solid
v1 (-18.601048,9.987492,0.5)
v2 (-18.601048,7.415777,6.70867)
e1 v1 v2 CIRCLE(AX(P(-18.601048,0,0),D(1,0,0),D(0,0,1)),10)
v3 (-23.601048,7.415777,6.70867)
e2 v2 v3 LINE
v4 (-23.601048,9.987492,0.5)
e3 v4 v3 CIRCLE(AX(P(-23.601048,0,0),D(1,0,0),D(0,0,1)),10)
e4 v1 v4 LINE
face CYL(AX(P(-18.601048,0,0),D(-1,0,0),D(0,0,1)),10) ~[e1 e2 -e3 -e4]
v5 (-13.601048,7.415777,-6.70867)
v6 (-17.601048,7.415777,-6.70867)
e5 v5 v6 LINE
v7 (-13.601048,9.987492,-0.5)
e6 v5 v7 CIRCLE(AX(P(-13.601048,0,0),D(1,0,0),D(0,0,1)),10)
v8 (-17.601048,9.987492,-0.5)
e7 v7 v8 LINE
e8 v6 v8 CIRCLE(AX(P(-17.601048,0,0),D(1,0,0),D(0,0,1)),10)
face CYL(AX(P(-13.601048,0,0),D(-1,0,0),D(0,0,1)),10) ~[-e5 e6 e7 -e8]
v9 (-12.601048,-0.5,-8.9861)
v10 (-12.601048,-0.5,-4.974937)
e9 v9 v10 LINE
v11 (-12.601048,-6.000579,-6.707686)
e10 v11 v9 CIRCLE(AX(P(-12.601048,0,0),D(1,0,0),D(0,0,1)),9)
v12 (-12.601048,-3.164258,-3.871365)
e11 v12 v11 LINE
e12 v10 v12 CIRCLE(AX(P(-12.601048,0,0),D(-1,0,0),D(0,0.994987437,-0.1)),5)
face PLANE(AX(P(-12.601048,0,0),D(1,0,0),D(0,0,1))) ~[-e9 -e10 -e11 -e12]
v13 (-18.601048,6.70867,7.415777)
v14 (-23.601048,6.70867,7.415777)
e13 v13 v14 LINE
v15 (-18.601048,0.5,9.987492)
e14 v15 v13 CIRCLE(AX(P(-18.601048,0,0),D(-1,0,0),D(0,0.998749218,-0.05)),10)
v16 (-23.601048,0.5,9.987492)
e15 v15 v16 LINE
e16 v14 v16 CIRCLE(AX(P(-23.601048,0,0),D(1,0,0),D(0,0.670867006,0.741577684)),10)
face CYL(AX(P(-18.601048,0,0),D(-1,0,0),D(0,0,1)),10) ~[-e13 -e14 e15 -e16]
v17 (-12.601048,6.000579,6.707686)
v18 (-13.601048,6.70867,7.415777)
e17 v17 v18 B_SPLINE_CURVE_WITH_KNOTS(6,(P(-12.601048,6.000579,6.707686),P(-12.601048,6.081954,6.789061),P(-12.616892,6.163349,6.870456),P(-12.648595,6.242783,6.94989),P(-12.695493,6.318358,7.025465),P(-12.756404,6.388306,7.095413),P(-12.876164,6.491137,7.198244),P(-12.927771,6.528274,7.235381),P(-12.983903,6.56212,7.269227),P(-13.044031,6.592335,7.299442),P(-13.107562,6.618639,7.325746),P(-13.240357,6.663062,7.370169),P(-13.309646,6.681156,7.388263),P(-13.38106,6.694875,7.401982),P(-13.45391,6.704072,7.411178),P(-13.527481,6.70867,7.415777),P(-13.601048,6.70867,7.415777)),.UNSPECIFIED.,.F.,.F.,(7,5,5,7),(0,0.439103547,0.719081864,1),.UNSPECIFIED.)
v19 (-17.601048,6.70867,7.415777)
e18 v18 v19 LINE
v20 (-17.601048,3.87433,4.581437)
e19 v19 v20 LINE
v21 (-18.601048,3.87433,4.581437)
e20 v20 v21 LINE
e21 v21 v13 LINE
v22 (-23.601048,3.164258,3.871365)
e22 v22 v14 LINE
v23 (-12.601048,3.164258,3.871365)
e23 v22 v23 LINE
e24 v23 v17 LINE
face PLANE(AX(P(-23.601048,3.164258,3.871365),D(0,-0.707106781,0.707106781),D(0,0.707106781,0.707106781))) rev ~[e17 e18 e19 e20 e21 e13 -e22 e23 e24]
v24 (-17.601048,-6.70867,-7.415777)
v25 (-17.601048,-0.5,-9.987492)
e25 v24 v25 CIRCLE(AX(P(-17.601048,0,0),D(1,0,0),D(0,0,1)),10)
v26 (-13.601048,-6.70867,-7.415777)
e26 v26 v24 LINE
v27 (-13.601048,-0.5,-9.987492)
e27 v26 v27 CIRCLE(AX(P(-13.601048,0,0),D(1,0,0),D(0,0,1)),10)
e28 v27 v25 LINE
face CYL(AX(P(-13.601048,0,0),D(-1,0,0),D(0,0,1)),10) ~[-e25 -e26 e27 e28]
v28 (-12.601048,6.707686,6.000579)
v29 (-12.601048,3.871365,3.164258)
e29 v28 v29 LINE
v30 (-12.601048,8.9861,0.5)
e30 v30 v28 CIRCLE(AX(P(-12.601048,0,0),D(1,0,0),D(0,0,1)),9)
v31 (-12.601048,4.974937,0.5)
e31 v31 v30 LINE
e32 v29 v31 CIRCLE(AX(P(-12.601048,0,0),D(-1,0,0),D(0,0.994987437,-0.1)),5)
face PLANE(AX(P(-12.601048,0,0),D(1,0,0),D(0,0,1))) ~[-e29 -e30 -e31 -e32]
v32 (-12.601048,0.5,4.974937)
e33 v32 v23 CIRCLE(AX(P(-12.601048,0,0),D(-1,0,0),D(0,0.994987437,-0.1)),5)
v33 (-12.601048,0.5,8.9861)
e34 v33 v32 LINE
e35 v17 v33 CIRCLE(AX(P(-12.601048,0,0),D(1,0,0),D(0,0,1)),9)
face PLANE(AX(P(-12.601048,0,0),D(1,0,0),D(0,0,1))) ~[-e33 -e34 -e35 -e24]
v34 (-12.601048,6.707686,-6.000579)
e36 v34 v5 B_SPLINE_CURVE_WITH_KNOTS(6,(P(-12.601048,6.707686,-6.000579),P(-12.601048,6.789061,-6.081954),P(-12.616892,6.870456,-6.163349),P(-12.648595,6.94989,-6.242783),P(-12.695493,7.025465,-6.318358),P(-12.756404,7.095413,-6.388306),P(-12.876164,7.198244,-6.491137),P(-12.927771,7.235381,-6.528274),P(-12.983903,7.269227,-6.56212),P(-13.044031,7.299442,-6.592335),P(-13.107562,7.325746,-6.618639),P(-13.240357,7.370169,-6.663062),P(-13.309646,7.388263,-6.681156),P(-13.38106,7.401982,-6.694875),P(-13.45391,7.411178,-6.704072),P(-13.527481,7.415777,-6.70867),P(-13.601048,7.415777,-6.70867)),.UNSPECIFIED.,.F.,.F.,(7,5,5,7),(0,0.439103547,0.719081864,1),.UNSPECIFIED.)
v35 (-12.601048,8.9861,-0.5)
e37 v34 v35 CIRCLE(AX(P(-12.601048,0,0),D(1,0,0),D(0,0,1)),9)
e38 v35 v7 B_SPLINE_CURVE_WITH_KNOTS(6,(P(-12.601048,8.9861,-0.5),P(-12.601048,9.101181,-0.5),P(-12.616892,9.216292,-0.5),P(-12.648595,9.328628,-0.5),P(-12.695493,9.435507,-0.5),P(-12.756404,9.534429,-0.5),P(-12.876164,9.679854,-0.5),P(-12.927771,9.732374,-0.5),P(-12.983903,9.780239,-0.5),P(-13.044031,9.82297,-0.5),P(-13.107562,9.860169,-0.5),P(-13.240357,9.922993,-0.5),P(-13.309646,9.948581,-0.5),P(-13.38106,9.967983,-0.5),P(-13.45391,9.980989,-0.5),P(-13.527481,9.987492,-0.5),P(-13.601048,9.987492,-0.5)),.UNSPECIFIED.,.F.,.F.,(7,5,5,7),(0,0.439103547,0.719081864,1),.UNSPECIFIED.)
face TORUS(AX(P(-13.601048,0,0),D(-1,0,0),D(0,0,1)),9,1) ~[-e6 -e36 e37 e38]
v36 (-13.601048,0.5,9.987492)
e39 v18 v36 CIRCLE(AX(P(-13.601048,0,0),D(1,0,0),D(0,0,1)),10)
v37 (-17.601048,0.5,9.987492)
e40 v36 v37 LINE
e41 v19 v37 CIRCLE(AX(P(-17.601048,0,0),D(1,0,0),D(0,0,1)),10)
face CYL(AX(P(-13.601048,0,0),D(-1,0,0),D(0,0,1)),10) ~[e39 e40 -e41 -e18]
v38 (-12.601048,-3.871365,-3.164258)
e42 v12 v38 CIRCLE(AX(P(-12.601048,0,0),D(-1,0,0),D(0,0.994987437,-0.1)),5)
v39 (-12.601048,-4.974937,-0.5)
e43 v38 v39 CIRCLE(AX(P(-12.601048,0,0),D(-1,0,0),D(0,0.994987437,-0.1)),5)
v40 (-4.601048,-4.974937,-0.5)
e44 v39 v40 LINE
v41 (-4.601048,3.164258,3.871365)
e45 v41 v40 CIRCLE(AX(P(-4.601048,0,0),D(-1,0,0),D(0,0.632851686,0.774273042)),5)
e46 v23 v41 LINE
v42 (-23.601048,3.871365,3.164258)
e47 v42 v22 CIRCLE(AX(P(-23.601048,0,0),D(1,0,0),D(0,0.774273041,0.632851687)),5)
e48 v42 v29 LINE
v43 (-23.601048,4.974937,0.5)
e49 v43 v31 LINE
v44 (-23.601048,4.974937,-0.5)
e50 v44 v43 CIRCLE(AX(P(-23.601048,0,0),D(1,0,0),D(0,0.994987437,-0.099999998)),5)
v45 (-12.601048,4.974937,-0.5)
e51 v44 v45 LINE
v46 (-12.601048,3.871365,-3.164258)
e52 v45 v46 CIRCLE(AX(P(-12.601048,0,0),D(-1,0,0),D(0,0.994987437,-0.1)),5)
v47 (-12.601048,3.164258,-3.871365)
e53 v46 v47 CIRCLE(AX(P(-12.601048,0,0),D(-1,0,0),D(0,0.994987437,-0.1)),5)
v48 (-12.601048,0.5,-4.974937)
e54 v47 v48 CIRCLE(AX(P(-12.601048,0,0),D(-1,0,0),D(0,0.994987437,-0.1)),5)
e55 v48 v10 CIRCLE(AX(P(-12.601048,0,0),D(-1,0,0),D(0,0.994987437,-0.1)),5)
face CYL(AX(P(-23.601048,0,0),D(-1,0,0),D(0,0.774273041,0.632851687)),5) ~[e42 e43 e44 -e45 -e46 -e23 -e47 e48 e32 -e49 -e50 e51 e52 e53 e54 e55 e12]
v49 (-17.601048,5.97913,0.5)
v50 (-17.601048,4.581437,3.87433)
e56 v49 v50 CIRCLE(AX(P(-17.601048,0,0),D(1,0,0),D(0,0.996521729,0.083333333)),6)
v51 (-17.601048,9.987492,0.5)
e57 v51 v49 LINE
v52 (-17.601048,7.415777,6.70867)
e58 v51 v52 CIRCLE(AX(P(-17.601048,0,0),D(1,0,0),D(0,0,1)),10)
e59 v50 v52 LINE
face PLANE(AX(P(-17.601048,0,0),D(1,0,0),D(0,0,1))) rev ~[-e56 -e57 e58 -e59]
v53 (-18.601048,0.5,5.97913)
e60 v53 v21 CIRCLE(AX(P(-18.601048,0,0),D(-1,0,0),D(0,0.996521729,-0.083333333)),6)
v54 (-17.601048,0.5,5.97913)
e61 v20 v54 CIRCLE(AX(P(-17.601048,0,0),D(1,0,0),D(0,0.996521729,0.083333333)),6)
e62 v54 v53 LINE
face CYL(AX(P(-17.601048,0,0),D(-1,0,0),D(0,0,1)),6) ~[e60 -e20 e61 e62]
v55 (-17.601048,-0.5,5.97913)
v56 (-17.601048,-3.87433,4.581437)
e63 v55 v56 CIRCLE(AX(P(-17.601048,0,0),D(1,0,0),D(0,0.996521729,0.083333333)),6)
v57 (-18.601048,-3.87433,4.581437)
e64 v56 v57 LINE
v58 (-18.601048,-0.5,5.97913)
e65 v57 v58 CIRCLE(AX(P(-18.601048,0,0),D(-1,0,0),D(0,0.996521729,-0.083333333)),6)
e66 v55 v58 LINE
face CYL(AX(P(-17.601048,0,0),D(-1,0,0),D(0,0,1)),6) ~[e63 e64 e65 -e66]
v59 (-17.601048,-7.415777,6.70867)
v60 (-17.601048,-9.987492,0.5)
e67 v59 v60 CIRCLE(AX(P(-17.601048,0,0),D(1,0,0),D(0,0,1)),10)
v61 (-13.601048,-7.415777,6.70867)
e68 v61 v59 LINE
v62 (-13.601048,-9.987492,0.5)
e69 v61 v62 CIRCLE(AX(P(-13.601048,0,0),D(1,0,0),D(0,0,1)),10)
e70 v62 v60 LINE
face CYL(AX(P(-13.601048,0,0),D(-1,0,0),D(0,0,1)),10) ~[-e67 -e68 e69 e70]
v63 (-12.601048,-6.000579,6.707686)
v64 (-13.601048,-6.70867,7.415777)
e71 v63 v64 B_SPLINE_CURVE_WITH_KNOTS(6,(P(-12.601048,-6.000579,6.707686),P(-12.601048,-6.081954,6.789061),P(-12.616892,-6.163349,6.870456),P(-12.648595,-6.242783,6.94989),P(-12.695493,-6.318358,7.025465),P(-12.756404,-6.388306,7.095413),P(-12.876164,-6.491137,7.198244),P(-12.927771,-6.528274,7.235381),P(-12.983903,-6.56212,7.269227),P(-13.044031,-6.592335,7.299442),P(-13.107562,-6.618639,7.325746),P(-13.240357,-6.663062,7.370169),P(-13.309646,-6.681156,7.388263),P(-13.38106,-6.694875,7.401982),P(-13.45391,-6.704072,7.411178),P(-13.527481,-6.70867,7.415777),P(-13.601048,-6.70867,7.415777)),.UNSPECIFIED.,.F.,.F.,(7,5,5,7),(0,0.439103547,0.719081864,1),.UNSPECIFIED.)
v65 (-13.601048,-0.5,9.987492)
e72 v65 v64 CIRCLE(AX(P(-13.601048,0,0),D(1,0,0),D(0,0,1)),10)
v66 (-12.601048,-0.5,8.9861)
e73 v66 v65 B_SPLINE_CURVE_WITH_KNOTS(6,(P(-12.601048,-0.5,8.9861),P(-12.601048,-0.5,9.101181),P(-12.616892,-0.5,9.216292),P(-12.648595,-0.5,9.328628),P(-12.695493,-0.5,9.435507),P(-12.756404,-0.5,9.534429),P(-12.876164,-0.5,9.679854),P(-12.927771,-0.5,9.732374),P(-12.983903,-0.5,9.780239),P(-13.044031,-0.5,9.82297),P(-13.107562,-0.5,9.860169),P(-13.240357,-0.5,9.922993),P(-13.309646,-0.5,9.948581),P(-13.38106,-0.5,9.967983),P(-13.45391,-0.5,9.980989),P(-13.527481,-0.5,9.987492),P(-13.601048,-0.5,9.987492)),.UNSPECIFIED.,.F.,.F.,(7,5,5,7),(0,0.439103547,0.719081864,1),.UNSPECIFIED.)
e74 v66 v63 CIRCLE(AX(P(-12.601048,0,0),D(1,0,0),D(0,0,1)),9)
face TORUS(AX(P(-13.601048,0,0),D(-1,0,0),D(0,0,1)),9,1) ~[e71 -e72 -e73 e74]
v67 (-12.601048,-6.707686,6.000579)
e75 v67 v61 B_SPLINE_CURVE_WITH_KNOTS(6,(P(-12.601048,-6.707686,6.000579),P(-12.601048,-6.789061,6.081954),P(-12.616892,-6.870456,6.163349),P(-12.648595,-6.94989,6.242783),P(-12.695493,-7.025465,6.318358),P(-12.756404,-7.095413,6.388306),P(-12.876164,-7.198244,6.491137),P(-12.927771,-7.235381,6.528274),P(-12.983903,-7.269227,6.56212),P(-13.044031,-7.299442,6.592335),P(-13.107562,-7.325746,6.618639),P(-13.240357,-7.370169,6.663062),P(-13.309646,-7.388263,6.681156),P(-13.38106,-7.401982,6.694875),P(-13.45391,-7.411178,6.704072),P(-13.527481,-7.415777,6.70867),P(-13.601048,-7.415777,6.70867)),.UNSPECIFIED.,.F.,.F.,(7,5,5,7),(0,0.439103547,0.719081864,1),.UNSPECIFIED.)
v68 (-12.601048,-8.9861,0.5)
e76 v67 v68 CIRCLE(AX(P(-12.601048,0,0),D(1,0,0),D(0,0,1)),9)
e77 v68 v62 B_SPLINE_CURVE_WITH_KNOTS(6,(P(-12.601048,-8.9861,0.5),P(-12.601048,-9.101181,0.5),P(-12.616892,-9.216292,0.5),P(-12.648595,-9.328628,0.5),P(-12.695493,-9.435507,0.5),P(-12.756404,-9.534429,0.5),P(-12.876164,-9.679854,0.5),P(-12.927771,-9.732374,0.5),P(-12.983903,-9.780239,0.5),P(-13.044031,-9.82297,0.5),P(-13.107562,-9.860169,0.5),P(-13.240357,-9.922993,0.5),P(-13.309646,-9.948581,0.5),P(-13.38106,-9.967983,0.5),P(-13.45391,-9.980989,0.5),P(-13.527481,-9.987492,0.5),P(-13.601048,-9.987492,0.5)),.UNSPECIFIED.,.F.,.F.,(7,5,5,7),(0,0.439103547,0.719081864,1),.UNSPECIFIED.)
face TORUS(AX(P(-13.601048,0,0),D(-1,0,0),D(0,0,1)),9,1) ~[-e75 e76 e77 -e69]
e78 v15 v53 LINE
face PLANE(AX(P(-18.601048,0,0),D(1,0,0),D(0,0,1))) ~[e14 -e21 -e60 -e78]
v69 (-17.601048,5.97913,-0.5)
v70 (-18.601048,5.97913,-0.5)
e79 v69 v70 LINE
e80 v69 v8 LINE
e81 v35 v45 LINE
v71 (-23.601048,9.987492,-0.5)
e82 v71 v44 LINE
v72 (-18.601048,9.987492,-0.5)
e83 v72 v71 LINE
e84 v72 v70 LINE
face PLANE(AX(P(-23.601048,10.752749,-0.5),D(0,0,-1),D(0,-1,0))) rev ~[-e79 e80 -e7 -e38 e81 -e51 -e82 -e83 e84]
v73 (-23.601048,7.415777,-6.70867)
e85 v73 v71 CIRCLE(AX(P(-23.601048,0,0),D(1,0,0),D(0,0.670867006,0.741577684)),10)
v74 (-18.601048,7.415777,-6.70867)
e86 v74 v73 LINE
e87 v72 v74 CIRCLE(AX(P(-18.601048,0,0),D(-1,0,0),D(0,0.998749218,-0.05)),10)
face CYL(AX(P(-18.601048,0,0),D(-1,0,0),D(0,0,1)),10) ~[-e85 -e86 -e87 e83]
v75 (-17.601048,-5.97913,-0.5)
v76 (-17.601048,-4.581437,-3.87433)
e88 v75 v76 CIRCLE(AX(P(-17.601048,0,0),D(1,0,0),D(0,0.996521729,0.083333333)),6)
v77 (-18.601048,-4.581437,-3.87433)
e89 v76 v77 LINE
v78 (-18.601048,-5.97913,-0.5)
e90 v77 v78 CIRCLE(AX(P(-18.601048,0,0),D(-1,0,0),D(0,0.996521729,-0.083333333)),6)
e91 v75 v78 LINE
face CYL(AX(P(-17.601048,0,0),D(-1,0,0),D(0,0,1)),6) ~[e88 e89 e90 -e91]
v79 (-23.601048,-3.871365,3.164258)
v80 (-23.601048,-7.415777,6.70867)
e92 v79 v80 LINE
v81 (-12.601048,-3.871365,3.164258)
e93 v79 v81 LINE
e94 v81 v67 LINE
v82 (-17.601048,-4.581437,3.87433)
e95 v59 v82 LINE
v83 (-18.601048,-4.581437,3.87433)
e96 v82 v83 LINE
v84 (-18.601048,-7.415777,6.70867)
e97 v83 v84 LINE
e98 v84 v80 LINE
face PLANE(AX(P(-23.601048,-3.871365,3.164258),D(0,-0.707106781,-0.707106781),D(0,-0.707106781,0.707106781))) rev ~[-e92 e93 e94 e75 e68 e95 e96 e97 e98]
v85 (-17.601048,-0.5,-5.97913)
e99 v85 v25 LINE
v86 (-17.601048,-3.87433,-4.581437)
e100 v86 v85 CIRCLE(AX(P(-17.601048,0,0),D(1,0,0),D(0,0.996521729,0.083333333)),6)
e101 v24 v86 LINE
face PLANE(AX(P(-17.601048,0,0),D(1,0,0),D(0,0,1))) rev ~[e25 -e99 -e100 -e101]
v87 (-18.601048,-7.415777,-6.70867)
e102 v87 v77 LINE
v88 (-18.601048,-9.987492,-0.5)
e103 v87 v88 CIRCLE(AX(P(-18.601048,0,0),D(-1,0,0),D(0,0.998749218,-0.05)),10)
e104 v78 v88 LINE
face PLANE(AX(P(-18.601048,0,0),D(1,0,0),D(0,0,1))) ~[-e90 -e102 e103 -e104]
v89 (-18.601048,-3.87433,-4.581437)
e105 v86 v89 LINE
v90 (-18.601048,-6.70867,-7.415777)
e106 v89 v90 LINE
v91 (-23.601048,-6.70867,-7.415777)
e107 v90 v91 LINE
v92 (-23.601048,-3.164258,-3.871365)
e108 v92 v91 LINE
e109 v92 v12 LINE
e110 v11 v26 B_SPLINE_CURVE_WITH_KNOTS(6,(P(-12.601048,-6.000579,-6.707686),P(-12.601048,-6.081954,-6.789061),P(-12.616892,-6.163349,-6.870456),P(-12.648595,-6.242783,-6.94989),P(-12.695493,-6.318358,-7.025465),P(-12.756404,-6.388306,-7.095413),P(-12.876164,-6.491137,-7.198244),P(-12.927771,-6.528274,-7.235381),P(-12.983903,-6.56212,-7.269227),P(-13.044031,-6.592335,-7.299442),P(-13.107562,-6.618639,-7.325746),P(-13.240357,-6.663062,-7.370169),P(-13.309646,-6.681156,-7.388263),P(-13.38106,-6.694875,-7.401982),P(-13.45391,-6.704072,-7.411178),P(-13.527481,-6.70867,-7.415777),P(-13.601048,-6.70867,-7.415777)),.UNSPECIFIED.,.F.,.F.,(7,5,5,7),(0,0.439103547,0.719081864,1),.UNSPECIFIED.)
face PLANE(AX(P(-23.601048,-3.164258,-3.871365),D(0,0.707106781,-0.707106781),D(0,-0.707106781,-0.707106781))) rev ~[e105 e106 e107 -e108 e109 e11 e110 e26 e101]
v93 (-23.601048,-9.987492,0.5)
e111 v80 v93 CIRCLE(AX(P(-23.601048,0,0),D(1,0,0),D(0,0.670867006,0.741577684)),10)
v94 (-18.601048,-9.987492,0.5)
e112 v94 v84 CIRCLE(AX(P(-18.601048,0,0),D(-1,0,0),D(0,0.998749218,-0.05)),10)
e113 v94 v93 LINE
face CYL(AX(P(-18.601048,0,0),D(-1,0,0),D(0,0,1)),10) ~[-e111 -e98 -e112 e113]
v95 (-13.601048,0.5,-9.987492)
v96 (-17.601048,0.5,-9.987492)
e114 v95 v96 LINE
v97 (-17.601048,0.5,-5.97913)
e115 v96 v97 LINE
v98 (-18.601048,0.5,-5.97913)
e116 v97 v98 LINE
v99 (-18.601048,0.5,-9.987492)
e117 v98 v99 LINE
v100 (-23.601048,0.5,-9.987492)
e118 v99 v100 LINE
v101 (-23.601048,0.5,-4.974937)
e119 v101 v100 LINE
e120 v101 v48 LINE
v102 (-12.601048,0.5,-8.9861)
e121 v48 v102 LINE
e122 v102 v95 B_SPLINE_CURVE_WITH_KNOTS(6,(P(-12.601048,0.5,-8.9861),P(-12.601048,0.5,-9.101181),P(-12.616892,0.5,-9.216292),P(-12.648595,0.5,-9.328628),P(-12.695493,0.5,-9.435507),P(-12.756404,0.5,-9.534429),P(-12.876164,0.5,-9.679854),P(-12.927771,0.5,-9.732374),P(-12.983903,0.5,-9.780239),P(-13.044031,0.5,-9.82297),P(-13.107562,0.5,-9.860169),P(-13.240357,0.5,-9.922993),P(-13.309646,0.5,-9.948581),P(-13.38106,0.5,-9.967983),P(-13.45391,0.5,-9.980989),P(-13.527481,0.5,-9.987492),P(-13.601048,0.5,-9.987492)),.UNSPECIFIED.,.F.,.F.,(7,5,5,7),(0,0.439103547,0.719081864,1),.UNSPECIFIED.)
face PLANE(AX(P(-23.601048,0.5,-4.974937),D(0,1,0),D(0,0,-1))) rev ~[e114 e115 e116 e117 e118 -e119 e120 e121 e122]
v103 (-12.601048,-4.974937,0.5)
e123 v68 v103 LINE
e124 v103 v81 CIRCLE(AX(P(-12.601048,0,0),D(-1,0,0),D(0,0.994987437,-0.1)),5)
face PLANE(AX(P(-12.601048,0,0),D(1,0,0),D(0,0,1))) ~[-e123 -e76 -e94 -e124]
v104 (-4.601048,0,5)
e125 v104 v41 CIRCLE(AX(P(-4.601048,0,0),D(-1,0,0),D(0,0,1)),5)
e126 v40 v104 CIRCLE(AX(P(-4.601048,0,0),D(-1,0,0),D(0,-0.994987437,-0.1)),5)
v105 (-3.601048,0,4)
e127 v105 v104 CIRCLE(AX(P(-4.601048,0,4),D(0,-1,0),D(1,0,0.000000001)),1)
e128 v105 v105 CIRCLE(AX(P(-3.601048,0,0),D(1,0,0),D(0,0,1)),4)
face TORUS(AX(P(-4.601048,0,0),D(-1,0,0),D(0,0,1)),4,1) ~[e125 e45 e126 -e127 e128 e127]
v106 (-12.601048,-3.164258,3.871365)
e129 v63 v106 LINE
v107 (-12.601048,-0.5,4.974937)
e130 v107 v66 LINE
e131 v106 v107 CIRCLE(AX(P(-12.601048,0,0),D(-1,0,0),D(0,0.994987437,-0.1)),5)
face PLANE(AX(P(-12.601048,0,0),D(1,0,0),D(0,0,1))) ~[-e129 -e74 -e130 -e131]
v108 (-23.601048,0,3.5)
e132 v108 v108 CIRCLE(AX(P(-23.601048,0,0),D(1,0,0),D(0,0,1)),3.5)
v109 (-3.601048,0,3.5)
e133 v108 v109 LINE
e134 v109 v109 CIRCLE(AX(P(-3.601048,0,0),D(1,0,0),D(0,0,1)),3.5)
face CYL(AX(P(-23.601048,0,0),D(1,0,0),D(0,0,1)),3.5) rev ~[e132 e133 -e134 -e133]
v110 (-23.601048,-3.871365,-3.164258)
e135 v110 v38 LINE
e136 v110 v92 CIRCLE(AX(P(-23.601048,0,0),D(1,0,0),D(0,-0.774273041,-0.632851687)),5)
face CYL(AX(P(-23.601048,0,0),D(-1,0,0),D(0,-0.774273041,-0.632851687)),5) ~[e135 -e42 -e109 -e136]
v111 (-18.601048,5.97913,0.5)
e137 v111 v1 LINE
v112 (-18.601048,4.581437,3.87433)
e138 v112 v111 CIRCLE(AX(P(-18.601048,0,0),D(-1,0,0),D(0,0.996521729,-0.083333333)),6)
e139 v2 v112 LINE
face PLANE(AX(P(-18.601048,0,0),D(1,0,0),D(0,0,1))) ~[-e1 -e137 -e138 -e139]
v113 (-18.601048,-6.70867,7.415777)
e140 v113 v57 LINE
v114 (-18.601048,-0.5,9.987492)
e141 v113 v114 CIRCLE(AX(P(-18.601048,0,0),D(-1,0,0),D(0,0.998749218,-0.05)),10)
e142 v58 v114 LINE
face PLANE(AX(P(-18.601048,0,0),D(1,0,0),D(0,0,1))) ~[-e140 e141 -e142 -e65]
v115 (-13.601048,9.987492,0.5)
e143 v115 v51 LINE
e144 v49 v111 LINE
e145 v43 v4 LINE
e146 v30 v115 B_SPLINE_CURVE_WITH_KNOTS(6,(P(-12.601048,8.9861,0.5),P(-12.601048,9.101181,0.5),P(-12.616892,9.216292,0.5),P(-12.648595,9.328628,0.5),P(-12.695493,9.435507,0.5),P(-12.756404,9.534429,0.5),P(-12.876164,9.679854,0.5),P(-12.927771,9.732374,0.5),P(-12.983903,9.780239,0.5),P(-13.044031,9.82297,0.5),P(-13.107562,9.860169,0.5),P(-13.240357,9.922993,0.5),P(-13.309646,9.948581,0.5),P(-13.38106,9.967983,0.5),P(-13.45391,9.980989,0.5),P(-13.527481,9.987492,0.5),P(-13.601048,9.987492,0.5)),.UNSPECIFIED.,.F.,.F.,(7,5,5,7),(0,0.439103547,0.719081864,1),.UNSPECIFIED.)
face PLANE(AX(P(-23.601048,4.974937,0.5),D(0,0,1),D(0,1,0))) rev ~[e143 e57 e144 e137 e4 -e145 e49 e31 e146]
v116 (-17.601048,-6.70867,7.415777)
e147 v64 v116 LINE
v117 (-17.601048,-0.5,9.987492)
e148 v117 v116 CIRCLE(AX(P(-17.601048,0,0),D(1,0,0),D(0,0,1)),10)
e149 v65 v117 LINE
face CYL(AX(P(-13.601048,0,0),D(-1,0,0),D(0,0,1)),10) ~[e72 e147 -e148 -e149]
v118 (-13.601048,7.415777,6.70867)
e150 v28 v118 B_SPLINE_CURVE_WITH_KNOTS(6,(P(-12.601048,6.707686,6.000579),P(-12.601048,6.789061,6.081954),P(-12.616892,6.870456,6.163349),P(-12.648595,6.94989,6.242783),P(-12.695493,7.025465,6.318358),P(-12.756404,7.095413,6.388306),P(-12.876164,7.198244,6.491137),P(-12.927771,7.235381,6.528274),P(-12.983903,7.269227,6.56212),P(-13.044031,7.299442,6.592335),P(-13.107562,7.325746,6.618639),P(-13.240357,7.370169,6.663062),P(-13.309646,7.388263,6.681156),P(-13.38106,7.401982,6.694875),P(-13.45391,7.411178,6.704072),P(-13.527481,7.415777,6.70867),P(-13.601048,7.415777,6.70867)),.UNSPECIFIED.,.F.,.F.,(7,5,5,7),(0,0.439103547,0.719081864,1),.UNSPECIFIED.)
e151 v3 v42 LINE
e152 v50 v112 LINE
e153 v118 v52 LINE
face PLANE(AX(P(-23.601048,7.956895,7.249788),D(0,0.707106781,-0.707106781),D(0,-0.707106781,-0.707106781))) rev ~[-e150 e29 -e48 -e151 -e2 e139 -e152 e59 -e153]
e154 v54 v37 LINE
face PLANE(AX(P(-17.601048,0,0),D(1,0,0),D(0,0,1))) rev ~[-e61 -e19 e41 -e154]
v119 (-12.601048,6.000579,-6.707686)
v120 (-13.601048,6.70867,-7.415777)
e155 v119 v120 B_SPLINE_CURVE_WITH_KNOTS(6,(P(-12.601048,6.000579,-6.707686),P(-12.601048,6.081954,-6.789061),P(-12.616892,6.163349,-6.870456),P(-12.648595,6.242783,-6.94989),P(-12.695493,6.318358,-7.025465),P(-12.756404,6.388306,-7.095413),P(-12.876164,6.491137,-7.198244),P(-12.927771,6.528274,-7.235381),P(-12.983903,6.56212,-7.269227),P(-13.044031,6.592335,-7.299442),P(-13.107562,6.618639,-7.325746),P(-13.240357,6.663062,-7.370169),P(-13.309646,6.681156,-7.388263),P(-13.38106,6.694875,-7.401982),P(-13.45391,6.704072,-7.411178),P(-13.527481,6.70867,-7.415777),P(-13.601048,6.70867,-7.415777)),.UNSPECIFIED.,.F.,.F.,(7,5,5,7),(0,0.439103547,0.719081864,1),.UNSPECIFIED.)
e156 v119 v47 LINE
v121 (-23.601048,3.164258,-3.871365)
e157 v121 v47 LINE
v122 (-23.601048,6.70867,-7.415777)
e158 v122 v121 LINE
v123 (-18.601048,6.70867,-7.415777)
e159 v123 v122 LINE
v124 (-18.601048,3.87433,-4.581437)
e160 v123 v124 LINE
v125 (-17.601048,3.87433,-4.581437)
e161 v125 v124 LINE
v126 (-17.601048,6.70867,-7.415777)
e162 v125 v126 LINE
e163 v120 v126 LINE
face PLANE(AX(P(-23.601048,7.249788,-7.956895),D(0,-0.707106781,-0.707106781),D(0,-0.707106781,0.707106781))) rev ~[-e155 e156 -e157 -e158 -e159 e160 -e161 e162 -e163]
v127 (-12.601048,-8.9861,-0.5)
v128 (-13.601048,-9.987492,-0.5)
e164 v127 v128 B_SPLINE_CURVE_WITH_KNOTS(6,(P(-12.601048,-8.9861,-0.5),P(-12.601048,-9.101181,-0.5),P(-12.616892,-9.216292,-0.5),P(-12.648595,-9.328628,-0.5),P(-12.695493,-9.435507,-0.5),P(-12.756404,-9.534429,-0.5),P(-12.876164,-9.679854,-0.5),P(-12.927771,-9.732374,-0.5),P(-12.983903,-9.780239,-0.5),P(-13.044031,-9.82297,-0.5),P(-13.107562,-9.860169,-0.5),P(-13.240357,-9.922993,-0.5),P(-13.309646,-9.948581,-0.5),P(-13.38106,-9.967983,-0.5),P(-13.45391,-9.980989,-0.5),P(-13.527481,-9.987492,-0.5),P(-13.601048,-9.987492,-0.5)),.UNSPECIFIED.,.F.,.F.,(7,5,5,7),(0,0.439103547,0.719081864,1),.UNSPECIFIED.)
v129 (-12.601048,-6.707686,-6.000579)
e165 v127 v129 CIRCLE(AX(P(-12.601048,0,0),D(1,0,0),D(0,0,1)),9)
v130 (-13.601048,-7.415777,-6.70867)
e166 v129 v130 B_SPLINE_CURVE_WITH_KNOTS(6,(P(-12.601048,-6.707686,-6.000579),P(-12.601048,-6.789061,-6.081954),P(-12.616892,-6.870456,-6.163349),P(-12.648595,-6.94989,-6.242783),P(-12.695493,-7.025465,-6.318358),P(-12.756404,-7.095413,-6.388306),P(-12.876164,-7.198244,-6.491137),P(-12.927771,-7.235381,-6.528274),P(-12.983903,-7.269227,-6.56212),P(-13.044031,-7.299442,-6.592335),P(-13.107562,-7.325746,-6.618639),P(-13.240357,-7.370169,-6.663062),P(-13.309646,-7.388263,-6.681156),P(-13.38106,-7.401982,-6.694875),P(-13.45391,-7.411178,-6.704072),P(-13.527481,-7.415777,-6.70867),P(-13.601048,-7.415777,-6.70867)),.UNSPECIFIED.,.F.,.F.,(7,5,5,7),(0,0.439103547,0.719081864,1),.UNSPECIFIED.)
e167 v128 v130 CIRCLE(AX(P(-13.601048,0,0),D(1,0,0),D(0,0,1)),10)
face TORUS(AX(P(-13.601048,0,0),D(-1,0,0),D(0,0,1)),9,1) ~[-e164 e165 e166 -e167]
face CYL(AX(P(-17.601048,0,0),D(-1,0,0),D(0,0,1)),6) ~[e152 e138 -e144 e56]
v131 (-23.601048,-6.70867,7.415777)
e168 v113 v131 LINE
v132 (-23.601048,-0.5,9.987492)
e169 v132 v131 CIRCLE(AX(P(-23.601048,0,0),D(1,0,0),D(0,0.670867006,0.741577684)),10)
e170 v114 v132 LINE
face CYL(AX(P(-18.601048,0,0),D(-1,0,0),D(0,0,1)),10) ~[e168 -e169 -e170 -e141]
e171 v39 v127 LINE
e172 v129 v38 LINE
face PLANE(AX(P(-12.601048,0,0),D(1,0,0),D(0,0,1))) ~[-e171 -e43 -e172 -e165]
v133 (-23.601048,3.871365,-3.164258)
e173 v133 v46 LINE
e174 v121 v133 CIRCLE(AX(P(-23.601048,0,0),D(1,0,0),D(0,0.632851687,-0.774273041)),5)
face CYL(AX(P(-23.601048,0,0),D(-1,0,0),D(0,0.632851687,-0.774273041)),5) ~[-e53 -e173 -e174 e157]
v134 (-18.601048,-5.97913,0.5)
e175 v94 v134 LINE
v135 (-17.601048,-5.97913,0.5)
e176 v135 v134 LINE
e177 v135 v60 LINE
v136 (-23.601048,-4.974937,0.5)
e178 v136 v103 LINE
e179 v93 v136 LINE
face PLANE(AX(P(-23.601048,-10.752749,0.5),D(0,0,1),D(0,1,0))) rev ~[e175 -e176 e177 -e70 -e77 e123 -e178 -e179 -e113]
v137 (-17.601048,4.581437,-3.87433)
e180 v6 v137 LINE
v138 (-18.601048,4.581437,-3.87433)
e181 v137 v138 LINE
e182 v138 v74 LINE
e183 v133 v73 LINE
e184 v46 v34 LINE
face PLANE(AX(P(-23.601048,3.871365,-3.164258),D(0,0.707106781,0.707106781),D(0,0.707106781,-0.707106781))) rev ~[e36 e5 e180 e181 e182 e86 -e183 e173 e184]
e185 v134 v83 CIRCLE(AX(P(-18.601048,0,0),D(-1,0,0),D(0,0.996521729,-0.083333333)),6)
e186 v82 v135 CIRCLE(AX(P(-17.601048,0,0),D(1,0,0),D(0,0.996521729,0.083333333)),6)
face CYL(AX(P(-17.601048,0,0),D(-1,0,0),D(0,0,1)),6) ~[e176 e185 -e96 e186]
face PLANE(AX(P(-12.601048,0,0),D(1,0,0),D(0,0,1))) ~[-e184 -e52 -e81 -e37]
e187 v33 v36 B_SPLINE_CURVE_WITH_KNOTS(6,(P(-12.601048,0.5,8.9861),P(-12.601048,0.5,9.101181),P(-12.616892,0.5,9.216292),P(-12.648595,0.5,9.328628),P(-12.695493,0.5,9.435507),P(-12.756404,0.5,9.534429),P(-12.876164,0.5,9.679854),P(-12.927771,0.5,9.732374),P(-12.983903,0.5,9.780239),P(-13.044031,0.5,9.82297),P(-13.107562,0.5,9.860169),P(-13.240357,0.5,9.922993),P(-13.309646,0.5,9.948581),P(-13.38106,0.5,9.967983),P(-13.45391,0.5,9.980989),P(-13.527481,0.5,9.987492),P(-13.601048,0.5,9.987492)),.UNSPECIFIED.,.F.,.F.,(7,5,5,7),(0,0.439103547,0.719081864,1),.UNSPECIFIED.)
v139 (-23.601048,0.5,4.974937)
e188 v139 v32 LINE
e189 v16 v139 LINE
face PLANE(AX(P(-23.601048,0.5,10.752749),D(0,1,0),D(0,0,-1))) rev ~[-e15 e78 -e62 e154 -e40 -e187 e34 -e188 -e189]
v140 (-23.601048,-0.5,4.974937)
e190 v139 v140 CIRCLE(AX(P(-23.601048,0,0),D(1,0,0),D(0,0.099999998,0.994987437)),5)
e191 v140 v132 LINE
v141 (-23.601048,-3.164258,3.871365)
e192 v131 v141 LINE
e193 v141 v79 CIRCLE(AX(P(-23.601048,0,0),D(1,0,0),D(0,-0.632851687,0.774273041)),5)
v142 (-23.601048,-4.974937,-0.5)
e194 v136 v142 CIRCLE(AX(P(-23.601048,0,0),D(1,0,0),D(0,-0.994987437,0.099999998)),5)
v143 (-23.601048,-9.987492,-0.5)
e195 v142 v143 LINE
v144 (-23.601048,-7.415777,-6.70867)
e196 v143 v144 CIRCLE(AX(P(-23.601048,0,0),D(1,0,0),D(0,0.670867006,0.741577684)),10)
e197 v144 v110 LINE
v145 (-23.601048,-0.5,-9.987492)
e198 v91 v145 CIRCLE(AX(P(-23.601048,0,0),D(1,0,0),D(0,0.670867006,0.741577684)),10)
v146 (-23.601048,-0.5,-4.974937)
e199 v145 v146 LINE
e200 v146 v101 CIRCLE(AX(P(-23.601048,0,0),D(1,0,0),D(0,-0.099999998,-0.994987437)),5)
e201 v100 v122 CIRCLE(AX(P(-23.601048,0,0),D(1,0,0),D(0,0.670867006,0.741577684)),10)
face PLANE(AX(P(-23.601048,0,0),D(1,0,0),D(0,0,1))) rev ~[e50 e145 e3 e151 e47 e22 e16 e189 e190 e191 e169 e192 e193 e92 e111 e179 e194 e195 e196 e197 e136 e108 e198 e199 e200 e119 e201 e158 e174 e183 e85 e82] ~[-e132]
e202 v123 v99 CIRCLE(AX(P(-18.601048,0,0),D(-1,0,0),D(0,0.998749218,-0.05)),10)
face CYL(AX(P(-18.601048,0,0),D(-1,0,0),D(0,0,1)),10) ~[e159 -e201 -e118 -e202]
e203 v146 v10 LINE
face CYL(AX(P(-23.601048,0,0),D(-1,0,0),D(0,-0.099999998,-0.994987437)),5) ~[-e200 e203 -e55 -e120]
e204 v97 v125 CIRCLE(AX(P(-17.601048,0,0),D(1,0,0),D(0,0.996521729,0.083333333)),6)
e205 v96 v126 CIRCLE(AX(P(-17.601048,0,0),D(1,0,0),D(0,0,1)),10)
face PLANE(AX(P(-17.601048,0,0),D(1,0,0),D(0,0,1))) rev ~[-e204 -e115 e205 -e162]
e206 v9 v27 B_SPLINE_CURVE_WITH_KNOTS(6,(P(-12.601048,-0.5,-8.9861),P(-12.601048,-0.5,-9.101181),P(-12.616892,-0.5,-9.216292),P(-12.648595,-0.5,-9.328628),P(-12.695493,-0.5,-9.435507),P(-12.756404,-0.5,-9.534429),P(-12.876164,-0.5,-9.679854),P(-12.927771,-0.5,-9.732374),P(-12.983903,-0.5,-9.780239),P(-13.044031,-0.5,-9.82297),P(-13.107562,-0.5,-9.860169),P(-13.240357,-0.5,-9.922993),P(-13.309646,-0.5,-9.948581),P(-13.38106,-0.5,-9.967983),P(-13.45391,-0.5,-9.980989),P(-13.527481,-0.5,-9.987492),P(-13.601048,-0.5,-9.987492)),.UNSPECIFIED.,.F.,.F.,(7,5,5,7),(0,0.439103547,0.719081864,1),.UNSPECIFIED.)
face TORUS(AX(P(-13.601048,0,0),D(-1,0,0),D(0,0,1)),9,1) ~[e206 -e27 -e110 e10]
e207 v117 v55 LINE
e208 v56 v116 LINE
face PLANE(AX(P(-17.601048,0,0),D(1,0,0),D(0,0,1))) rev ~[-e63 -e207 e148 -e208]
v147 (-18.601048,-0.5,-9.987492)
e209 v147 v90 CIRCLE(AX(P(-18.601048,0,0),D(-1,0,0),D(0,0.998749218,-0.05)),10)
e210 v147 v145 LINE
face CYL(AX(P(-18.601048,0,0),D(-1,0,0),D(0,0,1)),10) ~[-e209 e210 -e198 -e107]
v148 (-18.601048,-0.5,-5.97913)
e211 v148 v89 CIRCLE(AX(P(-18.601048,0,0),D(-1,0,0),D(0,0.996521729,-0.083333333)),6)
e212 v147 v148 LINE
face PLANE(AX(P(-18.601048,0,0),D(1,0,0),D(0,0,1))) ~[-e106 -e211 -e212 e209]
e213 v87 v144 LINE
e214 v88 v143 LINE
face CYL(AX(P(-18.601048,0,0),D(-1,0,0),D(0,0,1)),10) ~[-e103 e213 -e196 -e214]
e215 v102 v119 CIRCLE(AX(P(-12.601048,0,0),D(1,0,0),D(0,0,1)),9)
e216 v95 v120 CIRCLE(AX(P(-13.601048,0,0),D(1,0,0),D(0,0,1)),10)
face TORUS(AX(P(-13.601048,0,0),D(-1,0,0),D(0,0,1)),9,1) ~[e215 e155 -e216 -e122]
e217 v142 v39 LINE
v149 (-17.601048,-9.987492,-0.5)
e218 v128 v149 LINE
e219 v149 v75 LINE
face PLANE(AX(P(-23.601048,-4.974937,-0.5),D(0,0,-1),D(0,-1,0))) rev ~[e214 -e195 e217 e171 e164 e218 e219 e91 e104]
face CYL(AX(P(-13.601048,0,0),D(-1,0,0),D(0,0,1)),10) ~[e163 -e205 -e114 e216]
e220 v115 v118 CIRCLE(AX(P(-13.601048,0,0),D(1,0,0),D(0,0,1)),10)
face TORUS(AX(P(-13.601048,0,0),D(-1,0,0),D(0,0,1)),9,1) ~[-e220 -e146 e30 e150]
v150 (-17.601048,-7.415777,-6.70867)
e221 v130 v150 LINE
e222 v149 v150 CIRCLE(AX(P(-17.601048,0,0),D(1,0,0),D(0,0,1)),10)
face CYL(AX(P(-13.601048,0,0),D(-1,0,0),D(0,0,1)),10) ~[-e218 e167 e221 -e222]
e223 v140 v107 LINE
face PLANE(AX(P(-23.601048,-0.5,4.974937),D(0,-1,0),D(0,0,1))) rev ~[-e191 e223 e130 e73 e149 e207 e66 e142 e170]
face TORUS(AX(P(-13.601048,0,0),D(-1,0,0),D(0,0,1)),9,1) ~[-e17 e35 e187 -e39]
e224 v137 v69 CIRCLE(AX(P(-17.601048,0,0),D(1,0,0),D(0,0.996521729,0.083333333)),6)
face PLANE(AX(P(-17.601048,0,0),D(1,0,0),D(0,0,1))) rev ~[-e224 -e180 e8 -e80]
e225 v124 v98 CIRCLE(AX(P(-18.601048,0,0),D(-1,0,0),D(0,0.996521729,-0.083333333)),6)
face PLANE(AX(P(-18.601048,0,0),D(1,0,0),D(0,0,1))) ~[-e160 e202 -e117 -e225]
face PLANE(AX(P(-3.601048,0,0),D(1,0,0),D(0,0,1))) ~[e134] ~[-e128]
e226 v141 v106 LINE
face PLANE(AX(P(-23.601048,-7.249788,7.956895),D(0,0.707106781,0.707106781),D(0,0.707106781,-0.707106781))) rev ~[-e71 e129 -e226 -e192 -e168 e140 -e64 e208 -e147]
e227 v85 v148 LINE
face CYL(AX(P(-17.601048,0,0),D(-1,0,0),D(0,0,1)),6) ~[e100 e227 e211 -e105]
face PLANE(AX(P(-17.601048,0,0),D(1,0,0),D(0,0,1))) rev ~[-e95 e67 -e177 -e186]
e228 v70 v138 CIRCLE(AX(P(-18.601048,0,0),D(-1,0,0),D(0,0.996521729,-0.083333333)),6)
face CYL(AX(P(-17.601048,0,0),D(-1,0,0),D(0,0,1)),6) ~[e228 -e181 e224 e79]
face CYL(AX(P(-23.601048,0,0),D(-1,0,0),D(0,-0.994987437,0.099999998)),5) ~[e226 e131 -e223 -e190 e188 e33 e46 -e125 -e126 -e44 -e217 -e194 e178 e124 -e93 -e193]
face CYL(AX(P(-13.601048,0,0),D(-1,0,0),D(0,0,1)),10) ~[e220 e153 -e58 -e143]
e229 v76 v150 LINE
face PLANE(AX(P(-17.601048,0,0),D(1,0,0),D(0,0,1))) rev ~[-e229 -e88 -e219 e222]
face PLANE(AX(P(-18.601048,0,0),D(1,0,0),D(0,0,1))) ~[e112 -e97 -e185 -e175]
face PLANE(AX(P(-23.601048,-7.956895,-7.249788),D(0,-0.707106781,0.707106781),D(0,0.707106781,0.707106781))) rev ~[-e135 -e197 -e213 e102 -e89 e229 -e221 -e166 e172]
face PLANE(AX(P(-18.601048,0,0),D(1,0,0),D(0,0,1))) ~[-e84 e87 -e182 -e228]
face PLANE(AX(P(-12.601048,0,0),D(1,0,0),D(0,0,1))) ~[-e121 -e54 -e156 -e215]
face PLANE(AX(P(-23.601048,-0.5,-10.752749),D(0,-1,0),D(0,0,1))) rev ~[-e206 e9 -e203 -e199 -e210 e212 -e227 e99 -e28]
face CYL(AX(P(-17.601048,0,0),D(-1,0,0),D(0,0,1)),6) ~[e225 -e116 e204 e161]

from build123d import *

# Parameters (mm, degrees)
TAGLIO_ESTRUSIONE1_DEPTH    = 25.494897427831784
RIPETIZIONECIRCOLARE1_COUNT = 8


with BuildPart() as part:
    # Schizzo1 → Rivoluzione1 (revolve)
    with BuildSketch(Plane.XY):
        with BuildLine():
            Line((-18.60104822335024, 10), (-23.60104822335024, 10.000000000000002))
            Line((-23.60104822335024, 10.000000000000002), (-23.60104822335024, 3.5))
            Line((-23.60104822335024, 3.5), (-3.60104822335024, 3.5))
            Line((-3.60104822335024, 3.5), (-3.6010482233502397, 3.9999999999999925))
            ThreePointArc((-3.6010482233502397, 3.9999999999999925), (-3.893941442163692, 4.707106781186547), (-4.601048223350247, 5))
            Line((-4.601048223350247, 5), (-12.601048223350238, 4.999999999999999))
            Line((-12.601048223350238, 4.999999999999999), (-12.601048223350238, 8.999999999999993))
            ThreePointArc((-12.601048223350238, 8.999999999999993), (-12.89394144216369, 9.707106781186548), (-13.601048223350245, 10))
            Line((-13.601048223350245, 10), (-17.60104822335024, 10))
            Line((-17.60104822335024, 10), (-17.60104822335024, 6))
            Line((-17.60104822335024, 6), (-18.60104822335024, 6))
            Line((-18.60104822335024, 6), (-18.60104822335024, 10))
        make_face()
    revolve(axis=Axis((-39.30950846023687, 0, 0), (1, 0, 0)))

    # Schizzo2 → Taglio-Estrusione1 (cut, through all)
    with BuildSketch(Plane.ZY.offset(23.60104822335024)):
        with BuildLine():
            Line((0.5, 4.974937185533099), (0.5, 10.752749152388752))
            Line((0.5, 10.752749152388752), (-0.5, 10.752749152388752))
            Line((-0.5, 10.752749152388752), (-0.5, 4.974937185533099))
            ThreePointArc((-0.5, 4.974937185533099), (3.1e-16, 4.999999999999999), (0.5, 4.974937185533099))
        make_face()
    taglio_estrusione1 = extrude(amount=-TAGLIO_ESTRUSIONE1_DEPTH, mode=Mode.SUBTRACT)

    # RipetizioneCircolare1: Taglio-Estrusione1 ×8 about axis
    ripetizionecircolare1_axis = Axis((-39.30950846023687, 0, 0), (-1, 0, 0))
    for i in range(1, RIPETIZIONECIRCOLARE1_COUNT):
        add(taglio_estrusione1.rotate(ripetizionecircolare1_axis, i * 360 / RIPETIZIONECIRCOLARE1_COUNT), mode=Mode.SUBTRACT)


solid = part.part
